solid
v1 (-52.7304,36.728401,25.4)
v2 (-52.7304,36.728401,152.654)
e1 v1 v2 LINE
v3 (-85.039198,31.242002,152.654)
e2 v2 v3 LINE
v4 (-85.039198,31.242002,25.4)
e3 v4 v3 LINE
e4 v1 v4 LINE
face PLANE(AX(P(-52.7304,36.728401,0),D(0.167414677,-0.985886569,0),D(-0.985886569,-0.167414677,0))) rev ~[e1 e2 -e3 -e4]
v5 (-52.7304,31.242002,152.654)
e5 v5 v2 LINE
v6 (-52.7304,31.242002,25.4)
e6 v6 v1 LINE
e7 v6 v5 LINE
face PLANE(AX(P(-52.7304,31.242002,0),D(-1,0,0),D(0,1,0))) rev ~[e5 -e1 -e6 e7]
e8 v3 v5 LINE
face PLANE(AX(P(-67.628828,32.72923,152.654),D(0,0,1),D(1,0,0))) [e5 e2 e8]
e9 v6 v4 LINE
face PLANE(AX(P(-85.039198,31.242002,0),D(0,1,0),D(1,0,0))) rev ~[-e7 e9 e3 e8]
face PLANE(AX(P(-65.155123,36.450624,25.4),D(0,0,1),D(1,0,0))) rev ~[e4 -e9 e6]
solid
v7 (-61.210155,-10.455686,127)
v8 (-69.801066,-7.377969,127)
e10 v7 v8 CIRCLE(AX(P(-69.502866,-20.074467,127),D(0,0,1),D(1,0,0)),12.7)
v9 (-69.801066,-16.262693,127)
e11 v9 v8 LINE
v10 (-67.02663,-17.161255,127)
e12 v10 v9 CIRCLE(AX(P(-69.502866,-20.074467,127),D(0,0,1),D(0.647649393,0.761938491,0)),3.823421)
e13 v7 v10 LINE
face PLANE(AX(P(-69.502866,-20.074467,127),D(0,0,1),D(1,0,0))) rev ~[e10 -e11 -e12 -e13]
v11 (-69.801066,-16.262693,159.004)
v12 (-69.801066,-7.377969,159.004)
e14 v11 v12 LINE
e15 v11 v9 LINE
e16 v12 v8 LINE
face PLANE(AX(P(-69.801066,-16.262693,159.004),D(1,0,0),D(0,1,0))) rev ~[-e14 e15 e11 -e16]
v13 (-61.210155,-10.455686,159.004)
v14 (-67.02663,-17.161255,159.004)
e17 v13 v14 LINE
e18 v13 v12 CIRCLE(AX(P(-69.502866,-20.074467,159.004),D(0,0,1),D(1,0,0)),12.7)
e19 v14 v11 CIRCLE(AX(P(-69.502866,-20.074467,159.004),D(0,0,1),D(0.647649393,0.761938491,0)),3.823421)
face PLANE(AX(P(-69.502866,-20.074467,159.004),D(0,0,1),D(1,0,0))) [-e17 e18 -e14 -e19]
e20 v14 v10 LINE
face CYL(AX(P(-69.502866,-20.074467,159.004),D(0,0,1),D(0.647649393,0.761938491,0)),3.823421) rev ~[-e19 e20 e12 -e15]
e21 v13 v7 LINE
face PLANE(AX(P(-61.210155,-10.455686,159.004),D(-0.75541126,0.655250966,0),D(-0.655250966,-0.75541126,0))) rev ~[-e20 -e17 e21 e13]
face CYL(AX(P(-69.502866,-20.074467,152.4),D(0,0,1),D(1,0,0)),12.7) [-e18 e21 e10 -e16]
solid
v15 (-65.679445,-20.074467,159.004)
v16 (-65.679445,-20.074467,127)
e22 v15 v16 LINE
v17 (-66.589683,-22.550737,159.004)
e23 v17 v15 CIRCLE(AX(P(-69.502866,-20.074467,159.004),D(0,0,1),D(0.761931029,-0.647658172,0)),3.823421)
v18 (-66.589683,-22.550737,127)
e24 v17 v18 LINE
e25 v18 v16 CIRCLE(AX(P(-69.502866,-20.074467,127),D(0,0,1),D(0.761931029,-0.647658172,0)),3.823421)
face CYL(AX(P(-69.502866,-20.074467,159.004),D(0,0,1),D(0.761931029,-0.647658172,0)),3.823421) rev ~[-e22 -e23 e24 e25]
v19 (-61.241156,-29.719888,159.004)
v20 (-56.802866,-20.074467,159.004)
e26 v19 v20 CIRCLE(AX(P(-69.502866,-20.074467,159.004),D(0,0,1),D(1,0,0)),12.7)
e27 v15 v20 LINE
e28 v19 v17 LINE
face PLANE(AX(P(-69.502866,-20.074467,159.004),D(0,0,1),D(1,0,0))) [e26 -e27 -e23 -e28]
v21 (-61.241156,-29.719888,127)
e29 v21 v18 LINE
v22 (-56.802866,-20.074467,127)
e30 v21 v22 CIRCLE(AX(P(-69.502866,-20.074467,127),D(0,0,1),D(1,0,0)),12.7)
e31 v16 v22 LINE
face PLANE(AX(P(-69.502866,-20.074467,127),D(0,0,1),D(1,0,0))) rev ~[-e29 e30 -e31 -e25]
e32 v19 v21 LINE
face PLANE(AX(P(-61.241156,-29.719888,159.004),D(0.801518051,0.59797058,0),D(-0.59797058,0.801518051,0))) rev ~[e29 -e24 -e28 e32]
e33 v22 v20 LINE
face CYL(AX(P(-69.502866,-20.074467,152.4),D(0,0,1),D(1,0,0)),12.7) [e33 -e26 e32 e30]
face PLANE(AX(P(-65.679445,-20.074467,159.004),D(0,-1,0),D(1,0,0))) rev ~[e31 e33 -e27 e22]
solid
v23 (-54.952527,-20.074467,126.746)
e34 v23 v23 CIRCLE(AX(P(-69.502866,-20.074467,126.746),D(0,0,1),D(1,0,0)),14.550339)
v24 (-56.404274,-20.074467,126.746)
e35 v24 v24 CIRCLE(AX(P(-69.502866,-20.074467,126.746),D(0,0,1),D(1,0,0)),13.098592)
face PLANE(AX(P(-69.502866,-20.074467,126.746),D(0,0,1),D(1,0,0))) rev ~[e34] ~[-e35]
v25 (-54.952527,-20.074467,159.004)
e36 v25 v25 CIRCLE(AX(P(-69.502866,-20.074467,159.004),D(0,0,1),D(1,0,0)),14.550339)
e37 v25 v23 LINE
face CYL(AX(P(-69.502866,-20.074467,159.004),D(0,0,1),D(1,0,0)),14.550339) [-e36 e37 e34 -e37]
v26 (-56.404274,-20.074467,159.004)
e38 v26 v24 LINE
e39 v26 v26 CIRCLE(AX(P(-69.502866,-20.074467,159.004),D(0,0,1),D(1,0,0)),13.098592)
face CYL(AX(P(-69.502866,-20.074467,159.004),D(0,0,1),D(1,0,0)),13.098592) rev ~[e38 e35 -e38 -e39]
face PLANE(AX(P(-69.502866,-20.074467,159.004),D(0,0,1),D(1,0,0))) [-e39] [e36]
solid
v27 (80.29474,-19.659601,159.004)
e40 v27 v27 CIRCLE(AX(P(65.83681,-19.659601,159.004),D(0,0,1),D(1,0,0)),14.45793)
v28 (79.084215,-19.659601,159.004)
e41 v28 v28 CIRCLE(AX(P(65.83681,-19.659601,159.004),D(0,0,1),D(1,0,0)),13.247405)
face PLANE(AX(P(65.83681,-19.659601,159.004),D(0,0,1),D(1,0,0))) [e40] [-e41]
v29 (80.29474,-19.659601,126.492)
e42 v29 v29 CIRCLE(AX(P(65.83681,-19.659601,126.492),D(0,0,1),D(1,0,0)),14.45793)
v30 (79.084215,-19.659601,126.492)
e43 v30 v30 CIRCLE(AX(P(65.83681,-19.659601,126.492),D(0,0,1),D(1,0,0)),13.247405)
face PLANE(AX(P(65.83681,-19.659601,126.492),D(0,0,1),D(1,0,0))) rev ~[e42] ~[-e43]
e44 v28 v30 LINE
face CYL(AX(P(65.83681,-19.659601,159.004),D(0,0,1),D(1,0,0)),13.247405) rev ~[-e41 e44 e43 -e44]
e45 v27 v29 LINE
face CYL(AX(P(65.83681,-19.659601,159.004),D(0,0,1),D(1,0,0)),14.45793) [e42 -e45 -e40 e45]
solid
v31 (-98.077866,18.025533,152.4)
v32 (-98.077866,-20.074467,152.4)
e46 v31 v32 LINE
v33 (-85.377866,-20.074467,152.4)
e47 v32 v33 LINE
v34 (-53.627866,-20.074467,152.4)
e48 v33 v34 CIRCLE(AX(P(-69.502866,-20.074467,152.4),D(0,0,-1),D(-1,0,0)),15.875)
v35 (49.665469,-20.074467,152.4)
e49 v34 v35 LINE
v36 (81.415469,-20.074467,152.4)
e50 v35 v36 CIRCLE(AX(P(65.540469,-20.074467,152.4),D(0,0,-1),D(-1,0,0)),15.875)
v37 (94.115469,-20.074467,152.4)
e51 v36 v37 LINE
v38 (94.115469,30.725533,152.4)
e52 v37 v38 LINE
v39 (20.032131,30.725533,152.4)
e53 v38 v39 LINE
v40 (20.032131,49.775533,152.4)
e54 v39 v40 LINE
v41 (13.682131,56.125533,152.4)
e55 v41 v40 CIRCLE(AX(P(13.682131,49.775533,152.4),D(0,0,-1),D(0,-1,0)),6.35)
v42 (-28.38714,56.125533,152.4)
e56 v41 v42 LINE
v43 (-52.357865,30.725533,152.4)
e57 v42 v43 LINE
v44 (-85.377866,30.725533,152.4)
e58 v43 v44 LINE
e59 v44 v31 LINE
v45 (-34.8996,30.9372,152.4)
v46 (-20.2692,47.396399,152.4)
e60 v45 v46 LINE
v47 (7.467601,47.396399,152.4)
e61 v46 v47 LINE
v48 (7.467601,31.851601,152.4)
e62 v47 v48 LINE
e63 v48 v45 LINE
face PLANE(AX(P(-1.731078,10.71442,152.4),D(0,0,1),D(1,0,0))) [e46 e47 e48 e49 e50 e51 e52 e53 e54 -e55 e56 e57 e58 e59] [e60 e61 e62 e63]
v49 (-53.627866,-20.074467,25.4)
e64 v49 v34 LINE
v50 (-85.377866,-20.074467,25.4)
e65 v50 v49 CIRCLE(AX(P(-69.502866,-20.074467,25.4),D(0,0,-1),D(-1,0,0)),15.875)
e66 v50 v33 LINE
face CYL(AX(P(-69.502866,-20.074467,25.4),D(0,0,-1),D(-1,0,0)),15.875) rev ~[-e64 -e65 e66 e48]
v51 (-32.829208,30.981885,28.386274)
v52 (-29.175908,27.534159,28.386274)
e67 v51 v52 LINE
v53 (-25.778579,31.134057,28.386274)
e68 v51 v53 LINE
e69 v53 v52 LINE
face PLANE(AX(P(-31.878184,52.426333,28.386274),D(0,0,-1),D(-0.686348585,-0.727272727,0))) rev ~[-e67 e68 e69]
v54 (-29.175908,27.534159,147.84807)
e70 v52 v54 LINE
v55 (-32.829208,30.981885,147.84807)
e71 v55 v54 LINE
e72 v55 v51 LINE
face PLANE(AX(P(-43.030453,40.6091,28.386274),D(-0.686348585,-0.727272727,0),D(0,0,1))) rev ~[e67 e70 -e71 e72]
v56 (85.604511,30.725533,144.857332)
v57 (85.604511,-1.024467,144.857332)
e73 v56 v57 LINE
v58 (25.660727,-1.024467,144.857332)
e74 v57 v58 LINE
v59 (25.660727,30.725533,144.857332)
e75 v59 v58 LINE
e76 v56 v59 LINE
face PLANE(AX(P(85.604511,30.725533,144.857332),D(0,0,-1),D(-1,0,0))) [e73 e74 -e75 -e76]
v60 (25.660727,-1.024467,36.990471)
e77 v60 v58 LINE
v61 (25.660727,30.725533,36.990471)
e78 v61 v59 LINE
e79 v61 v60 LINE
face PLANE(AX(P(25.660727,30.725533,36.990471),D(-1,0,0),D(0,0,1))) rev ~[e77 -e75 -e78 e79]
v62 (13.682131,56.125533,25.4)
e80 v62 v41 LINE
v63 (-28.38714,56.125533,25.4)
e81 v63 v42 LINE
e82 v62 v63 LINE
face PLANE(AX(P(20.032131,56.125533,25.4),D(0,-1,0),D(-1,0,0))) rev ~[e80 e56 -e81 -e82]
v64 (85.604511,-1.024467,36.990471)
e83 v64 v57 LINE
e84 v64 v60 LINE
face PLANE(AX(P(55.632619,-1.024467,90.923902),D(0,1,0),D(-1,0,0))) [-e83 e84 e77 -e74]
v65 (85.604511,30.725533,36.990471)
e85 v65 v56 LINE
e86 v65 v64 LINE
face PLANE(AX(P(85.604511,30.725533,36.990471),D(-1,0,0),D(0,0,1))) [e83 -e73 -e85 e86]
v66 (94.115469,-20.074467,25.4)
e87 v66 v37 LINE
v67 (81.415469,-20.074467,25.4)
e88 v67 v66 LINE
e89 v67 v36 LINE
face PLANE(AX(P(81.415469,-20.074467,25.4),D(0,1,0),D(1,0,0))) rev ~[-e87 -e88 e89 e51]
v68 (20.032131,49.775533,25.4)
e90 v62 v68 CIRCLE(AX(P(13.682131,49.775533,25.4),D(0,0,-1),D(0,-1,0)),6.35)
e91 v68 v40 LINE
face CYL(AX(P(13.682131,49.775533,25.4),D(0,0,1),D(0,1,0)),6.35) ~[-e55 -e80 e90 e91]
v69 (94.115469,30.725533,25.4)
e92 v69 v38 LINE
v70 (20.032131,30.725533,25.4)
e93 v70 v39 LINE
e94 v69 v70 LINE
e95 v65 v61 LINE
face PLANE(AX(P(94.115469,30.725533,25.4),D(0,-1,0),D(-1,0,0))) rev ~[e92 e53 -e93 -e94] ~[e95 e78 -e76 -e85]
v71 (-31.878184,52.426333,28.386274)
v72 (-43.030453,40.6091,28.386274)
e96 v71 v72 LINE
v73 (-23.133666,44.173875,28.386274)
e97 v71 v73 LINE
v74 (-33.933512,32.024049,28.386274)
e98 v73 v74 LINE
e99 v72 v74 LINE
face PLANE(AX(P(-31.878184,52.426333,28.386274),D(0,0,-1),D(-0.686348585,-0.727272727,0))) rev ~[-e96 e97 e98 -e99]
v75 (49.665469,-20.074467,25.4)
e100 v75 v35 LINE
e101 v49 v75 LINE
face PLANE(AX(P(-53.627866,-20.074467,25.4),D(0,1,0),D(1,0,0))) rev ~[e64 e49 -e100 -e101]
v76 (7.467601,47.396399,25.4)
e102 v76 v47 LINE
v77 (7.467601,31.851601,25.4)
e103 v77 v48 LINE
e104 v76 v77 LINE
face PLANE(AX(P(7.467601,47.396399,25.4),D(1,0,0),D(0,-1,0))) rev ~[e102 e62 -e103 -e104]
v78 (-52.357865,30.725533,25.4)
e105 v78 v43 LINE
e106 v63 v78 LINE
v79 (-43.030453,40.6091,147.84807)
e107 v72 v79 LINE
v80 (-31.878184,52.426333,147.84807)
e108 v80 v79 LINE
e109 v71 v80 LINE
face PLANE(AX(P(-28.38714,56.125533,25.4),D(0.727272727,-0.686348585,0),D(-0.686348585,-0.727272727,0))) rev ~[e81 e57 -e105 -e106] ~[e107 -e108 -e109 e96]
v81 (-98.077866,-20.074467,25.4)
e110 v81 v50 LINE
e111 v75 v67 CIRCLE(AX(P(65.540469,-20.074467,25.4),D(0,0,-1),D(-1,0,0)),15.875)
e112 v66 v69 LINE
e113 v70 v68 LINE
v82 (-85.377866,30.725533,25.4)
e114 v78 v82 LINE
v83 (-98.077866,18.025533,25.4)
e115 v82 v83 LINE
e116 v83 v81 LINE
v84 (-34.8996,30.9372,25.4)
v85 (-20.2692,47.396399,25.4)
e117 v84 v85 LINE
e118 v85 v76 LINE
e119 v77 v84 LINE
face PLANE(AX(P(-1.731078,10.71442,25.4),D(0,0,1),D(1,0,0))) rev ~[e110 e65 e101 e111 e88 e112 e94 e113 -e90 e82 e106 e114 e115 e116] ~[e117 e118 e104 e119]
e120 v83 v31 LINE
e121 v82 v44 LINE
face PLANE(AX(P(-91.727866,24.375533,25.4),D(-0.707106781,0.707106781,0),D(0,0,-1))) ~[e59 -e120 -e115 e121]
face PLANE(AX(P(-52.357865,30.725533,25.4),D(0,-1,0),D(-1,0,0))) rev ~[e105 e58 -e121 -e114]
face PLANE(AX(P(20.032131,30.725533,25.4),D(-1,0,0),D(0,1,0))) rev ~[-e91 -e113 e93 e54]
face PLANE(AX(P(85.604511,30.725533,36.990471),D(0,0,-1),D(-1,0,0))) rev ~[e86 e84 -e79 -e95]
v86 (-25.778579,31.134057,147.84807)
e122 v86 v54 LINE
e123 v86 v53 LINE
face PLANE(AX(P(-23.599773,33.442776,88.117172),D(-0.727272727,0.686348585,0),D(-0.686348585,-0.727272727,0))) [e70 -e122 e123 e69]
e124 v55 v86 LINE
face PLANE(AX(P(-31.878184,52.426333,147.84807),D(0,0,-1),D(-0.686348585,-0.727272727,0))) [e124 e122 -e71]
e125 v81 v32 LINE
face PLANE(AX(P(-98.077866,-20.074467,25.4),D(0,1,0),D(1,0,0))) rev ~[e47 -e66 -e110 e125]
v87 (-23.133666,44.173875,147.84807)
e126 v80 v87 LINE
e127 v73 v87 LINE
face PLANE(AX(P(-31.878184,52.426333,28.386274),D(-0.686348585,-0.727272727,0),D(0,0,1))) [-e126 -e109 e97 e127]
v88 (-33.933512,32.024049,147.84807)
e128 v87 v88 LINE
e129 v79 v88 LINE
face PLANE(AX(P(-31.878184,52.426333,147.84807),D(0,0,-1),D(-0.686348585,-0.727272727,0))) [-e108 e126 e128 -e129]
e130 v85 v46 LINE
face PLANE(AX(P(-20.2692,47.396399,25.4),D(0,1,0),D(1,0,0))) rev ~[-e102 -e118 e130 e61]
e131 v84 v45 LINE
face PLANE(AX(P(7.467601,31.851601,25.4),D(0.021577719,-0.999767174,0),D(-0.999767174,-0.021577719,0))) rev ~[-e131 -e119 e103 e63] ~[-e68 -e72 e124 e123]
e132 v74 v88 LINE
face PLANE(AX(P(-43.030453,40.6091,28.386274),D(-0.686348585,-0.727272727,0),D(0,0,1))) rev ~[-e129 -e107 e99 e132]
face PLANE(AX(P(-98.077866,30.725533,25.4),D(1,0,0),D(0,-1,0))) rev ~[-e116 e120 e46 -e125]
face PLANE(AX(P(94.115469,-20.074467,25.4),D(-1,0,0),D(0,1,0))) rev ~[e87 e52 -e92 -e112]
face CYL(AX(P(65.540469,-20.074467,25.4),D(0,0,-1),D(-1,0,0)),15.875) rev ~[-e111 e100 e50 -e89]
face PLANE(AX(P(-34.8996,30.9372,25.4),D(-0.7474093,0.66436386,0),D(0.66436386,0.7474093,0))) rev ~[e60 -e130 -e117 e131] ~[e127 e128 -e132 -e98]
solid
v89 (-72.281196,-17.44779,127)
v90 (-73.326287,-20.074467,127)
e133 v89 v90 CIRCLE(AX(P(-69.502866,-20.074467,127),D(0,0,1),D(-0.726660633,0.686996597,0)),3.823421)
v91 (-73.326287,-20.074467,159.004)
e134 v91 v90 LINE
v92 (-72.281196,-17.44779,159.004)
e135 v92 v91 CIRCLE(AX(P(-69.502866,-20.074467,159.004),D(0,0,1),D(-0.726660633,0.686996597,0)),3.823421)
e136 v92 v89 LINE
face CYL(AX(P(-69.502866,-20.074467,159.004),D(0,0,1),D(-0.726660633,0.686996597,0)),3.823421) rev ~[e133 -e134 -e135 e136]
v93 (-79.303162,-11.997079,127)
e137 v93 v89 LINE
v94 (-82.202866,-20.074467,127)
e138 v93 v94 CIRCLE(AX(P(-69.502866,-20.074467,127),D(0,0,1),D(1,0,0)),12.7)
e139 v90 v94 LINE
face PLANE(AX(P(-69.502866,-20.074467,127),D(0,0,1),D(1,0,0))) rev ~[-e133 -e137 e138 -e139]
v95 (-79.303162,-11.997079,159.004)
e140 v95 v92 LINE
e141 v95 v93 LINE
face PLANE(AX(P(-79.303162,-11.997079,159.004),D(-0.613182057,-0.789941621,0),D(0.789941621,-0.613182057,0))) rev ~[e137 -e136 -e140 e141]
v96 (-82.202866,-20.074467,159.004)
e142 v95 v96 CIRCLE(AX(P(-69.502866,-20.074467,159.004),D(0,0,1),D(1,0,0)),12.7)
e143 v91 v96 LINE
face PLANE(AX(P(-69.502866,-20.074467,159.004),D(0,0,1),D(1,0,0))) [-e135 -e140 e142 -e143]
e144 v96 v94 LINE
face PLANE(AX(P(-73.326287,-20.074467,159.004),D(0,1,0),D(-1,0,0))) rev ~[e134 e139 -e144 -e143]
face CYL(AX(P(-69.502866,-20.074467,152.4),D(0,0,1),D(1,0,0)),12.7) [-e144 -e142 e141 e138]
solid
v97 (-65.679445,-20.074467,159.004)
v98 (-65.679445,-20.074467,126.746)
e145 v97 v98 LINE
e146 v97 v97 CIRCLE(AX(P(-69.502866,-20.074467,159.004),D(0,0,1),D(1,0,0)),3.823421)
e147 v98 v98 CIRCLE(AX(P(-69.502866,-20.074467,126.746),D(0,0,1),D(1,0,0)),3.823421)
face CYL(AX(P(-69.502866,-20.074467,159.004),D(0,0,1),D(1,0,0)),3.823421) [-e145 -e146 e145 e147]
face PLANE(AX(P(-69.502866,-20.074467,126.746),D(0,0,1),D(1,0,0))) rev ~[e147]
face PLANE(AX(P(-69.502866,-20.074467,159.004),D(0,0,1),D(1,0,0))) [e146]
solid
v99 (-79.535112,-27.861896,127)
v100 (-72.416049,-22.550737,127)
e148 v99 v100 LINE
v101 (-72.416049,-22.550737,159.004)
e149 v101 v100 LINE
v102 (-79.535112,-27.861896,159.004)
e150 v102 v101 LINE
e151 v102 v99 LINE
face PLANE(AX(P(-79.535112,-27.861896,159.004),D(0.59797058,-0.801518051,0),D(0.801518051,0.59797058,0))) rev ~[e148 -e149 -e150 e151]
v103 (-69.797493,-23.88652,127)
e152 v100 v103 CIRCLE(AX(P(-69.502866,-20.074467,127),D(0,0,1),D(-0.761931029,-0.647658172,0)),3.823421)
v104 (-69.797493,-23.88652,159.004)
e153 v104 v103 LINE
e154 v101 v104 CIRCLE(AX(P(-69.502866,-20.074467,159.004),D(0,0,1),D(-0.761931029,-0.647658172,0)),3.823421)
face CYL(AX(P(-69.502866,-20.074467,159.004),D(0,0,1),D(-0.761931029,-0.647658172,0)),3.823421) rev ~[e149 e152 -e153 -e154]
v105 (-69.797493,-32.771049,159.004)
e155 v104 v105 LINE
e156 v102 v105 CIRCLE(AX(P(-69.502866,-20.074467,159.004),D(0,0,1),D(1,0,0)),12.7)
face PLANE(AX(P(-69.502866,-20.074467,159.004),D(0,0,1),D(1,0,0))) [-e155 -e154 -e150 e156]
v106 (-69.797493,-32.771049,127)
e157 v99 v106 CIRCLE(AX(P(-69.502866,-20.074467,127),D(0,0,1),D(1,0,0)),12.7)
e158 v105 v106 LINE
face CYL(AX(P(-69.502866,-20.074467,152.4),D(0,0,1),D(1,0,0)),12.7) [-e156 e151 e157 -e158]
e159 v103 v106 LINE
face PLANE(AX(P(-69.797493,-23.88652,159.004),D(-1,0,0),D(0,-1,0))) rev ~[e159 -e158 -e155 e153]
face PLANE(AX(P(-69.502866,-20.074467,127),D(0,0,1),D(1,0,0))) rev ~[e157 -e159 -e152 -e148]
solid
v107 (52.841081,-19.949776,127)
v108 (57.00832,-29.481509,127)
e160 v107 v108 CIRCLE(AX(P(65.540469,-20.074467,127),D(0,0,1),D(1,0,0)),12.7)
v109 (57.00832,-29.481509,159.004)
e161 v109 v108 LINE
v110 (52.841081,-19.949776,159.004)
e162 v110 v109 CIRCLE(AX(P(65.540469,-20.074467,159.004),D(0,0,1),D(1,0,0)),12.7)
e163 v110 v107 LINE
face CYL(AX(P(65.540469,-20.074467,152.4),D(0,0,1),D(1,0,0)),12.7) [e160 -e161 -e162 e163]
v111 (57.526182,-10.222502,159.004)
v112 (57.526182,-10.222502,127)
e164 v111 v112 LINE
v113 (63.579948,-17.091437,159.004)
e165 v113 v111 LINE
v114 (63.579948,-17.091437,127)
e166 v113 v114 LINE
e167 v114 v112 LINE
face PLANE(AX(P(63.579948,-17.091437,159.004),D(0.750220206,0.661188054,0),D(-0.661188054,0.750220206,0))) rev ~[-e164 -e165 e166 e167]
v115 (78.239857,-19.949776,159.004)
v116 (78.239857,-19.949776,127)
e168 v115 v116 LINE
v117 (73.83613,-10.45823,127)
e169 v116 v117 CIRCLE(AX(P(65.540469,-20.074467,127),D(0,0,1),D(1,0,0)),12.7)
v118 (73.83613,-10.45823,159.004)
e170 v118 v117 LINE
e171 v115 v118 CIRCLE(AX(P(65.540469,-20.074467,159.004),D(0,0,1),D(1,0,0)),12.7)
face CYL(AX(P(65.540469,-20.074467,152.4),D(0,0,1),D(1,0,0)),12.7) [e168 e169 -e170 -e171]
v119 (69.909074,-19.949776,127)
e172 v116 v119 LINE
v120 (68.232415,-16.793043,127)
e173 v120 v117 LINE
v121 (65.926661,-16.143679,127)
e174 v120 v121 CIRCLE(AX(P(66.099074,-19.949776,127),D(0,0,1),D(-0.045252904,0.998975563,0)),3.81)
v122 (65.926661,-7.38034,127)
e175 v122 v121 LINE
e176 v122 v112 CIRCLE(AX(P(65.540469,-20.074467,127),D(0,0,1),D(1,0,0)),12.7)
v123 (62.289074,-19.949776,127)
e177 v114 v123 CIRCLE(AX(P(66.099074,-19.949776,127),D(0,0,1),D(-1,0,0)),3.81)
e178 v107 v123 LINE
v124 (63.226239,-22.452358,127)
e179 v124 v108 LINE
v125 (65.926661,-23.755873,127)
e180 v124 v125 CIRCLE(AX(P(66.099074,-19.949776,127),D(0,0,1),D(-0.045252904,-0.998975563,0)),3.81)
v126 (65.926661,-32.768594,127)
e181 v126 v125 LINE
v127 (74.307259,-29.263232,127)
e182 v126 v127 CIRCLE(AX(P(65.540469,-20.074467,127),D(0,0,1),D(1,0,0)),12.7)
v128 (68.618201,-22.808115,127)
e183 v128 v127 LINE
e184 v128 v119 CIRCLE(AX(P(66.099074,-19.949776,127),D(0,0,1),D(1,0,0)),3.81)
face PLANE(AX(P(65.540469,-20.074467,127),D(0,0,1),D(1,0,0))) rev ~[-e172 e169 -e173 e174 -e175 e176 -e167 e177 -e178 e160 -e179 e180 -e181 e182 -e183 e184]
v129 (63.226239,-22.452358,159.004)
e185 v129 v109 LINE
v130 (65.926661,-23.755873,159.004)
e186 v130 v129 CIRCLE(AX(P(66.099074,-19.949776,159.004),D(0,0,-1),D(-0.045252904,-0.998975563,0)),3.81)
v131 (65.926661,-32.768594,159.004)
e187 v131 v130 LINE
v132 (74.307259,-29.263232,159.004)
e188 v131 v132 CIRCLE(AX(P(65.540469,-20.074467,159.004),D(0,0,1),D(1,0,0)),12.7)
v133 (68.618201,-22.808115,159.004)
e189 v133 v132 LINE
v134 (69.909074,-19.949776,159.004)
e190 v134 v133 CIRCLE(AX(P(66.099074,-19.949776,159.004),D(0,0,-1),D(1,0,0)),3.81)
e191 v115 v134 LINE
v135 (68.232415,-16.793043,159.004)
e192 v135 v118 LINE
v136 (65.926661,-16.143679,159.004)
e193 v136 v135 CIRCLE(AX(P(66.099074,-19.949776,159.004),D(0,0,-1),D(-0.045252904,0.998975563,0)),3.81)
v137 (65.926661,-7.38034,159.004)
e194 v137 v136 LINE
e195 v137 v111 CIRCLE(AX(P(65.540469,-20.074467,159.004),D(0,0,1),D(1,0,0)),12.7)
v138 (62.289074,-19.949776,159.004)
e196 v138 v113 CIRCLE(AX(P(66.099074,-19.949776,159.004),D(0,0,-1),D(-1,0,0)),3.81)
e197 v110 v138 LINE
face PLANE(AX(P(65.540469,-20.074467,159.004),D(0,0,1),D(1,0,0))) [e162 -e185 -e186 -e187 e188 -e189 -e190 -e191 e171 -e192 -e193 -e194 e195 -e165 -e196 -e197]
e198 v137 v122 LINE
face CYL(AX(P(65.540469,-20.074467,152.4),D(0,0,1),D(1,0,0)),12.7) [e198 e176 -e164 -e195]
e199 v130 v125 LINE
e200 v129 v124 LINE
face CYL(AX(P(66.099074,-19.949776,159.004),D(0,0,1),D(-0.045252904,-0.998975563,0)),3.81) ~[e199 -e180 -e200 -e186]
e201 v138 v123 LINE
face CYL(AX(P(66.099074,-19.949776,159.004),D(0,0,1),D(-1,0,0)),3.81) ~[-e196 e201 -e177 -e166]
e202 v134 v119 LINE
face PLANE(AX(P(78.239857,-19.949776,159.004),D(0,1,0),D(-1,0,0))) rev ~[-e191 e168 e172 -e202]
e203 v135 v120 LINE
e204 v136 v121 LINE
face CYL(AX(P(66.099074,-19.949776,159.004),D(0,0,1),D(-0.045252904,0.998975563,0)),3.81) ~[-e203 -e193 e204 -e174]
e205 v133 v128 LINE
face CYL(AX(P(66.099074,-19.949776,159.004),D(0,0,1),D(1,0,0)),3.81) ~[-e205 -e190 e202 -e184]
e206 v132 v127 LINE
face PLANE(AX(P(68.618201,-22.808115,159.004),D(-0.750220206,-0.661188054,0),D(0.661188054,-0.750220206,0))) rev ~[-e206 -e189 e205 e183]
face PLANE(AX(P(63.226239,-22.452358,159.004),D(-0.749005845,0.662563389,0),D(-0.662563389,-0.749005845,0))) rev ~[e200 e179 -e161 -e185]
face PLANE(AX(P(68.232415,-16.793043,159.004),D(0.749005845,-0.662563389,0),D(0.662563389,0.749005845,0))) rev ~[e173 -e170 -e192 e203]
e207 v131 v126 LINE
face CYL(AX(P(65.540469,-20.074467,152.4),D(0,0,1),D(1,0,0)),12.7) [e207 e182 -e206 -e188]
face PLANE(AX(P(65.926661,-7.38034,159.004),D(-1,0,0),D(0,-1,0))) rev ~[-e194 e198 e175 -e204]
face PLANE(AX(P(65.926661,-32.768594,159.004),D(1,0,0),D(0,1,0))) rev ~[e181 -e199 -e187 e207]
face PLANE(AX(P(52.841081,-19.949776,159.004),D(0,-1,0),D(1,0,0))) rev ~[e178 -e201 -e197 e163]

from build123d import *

# Parameters (mm, degrees)
F1_DEPTH       = 25.4
F3_DEPTH       = 127
F4_SIZE        = 12.7
F6_R           = 6.35
F8_DEPTH       = 152.654
F10_DEPTH      = 25.4
F12_DEPTH      = 25.4
F13_W          = 16.2486957626
F13_H          = 119.4617953151
F14_DEPTH      = 19.05
F15_W          = 59.9437842466
F15_H          = 107.8668609262
F16_DEPTH      = 31.75
F17_R          = 12.7
F18_DEPTH      = 6.604
F18_DEPTH_BACK = 25.4
F20_DEPTH      = 42.672
F21_R          = 14.5503391108
F21_R_2        = 13.0985920163
F22_DEPTH      = 32.258
F23_R          = 3.8234210024
F24_DEPTH      = 32.258
F26_DEPTH      = 37.592
F27_R          = 14.4579304603
F27_R_2        = 13.2474049672
F28_DEPTH      = 32.512


with BuildPart() as f1:
    # F0 (on Top) → F1 (new body)
    with BuildSketch(Plane.XY):
        with BuildLine():
            Line((-98.0778662412, 30.7255328881), (-98.0778662412, -20.0744671119))
            Line((-98.0778662412, -20.0744671119), (-85.3778662412, -20.0744671119))
            ThreePointArc((-85.3778662412, -20.0744671119), (-69.5028662412, -4.1994671119), (-53.6278662412, -20.0744671119))
            Line((-53.6278662412, -20.0744671119), (49.6654686659, -20.0744671119))
            ThreePointArc((49.6654686659, -20.0744671119), (65.5404686659, -4.1994671119), (81.4154686659, -20.0744671119))
            Line((81.4154686659, -20.0744671119), (94.1154686659, -20.0744671119))
            Line((94.1154686659, -20.0744671119), (94.1154686659, 30.7255328881))
            Line((94.1154686659, 30.7255328881), (20.0321313981, 30.7255328881))
            Line((20.0321313981, 30.7255328881), (20.0321313981, 56.1255328881))
            Line((20.0321313981, 56.1255328881), (-28.3871404864, 56.1255328881))
            Line((-28.3871404864, 56.1255328881), (-52.3578648184, 30.7255328881))
            Line((-52.3578648184, 30.7255328881), (-98.0778662412, 30.7255328881))
        make_face()
        Polygon((7.467600517, 31.8516008556), (-34.8995998502, 30.9372004122), (-20.2692002058, 47.3963990808), (7.467600517, 47.3963990808), align=None, mode=Mode.SUBTRACT)
    extrude(amount=F1_DEPTH)


with BuildPart() as f3:
    # F2 (on face) → F3 (new body)
    with BuildSketch(Plane.XY.offset(25.4)):
        with BuildLine():
            Line((-28.3871404864, 56.1255328881), (-52.3578648184, 30.7255328881))
            Line((-52.3578648184, 30.7255328881), (-98.0778662412, 30.7255328881))
            Line((-98.0778662412, 30.7255328881), (-98.0778662412, -20.0744671119))
            Line((-98.0778662412, -20.0744671119), (-85.3778662412, -20.0744671119))
            ThreePointArc((-85.3778662412, -20.0744671119), (-69.5028662412, -4.1994671119), (-53.6278662412, -20.0744671119))
            Line((-53.6278662412, -20.0744671119), (49.6654686659, -20.0744671119))
            ThreePointArc((49.6654686659, -20.0744671119), (65.5404686659, -4.1994671119), (81.4154686659, -20.0744671119))
            Line((81.4154686659, -20.0744671119), (94.1154686659, -20.0744671119))
            Line((94.1154686659, -20.0744671119), (94.1154686659, 30.7255328881))
            Line((94.1154686659, 30.7255328881), (20.0321313981, 30.7255328881))
            Line((20.0321313981, 30.7255328881), (20.0321313981, 56.1255328881))
            Line((20.0321313981, 56.1255328881), (-28.3871404864, 56.1255328881))
        make_face()
        Polygon((7.467600517, 47.3963990808), (7.467600517, 31.8516008556), (-34.8995998502, 30.9372004122), (-20.2692002058, 47.3963990808), align=None, mode=Mode.SUBTRACT)
    extrude(amount=F3_DEPTH)

    # F4
    f4_edges = [f3.edges().sort_by_distance(p)[0] for p in [
        (-98.077866, 30.725533, 88.9),
    ]]
    chamfer(f4_edges, length=F4_SIZE)

    # F6
    f6_edges = [f3.edges().sort_by_distance(p)[0] for p in [
        (20.032131, 56.125533, 88.9),
    ]]
    fillet(f6_edges, radius=F6_R)

    # F13 (on face) → F14 (cut)
    with BuildSketch(Plane(origin=(-43.0304532091, 40.6090996754, 0), x_dir=(-0.686348585, -0.7272727273, 0), z_dir=(-0.7272727273, 0.686348585, 0))):
        with Locations((-8.1243478813, 88.1171720102)):
            Rectangle(F13_W, F13_H)
    extrude(amount=-F14_DEPTH, mode=Mode.SUBTRACT)

    # F15 (on face) → F16 (cut)
    with BuildSketch(Plane(origin=(0, 30.7255328881, 0), x_dir=(-1, 0, 0), z_dir=(0, 1, 0))):
        with Locations((-55.6326190781, 90.9239016473)):
            Rectangle(F15_W, F15_H)
    extrude(amount=-F16_DEPTH, mode=Mode.SUBTRACT)


with BuildPart() as f8:
    # F7 (on Top) → F8 (new body)
    with BuildSketch(Plane.XY):
        Polygon((-52.7304001153, 36.728400737), (-85.0391983986, 31.2420018017), (-52.7304001153, 31.2420018017), align=None)
    extrude(amount=F8_DEPTH)

    # F9 (on Top) → F10 (cut)
    with BuildSketch(Plane.XY):
        Polygon((-53.0351996422, 37.033200264), (-84.1248035431, 31.8516008556), (-53.0351996422, 30.0227999687), align=None)
    extrude(amount=F10_DEPTH, mode=Mode.SUBTRACT)

    # F11 (on Top) → F12 (cut)
    with BuildSketch(Plane.XY):
        Polygon((-45.1124533736, 57.0361010675), (-89.001595974, 44.9580028653), (-89.001595974, 20.2692002058), (-43.2815998793, 22.7076001465), align=None)
    extrude(amount=F12_DEPTH, mode=Mode.SUBTRACT)


with BuildPart() as f18:
    # F17 (on face) → F18 (new body, two sides)
    with BuildSketch(Plane.XY.offset(152.4)) as f18_sk:
        with Locations((-69.5028662412, -20.0744671119)):
            Circle(F17_R)
    extrude(amount=F18_DEPTH)
    extrude(f18_sk.sketch, amount=-F18_DEPTH_BACK)

    # F19 (on face) → F20 (cut)
    with BuildSketch(Plane.XY.offset(159.004)):
        with BuildLine():
            ThreePointArc((-66.589683144, -22.5507369687), (-65.9142123432, -21.3935999187), (-65.6794452388, -20.0744671119))
            ThreePointArc((-65.6794452388, -20.0744671119), (-66.032546227, -18.4696533654), (-67.0266299507, -17.1612554829))
            ThreePointArc((-67.0266299507, -17.1612554829), (-68.324810941, -16.4370595363), (-69.8010662799, -16.2626926041))
            ThreePointArc((-69.8010662799, -16.2626926041), (-71.151311703, -16.6246590417), (-72.2811957686, -17.4477898956))
            ThreePointArc((-72.2811957686, -17.4477898956), (-73.055419663, -18.6609918389), (-73.3262872437, -20.0744671119))
            ThreePointArc((-73.3262872437, -20.0744671119), (-73.0915201393, -21.3935999187), (-72.4160493385, -22.5507369687))
            ThreePointArc((-72.4160493385, -22.5507369687), (-71.2402750017, -23.4803383603), (-69.7974926492, -23.8865195042))
            ThreePointArc((-69.7974926492, -23.8865195042), (-68.0330742392, -23.6040931024), (-66.589683144, -22.5507369687))
        make_face()
        with BuildLine():
            Line((-61.24115574, -29.719887766), (-66.589683144, -22.5507369687))
            ThreePointArc((-66.589683144, -22.5507369687), (-68.0330742392, -23.6040931024), (-69.7974926492, -23.8865195042))
            Line((-69.7974926492, -23.8865195042), (-69.7974926492, -32.7710491433))
            ThreePointArc((-69.7974926492, -32.7710491433), (-65.2371888419, -32.0366573932), (-61.24115574, -29.719887766))
        make_face()
        with BuildLine():
            Line((-79.535111766, -27.861896067), (-72.4160493385, -22.5507369687))
            ThreePointArc((-72.4160493385, -22.5507369687), (-73.0915201393, -21.3935999187), (-73.3262872437, -20.0744671119))
            Line((-73.3262872437, -20.0744671119), (-82.2028662412, -20.0744671119))
            ThreePointArc((-82.2028662412, -20.0744671119), (-81.5174306979, -24.1903195045), (-79.535111766, -27.861896067))
        make_face()
        with BuildLine():
            ThreePointArc((-72.2811957686, -17.4477898956), (-71.151311703, -16.6246590417), (-69.8010662799, -16.2626926041))
            Line((-69.8010662799, -16.2626926041), (-69.8010662799, -7.3779685104))
            ThreePointArc((-69.8010662799, -7.3779685104), (-75.0552484987, -8.6525123201), (-79.3031619466, -11.9970786672))
            Line((-79.3031619466, -11.9970786672), (-72.2811957686, -17.4477898956))
        make_face()
        with BuildLine():
            ThreePointArc((-67.0266299507, -17.1612554829), (-66.032546227, -18.4696533654), (-65.6794452388, -20.0744671119))
            Line((-65.6794452388, -20.0744671119), (-56.8028662412, -20.0744671119))
            ThreePointArc((-56.8028662412, -20.0744671119), (-57.957143405, -14.7842606709), (-61.2101550899, -10.4556864324))
            Line((-61.2101550899, -10.4556864324), (-67.0266299507, -17.1612554829))
        make_face()
    extrude(amount=-F20_DEPTH, mode=Mode.SUBTRACT)


with BuildPart() as f18b:
    # F17 (on face) → F18, piece 2 (new body, two sides)
    with BuildSketch(Plane.XY.offset(152.4)) as f18_2_sk:
        with Locations((65.5404686659, -20.0744671119)):
            Circle(F17_R)
    extrude(amount=F18_DEPTH)
    extrude(f18_2_sk.sketch, amount=-F18_DEPTH_BACK)

    # F25 (on face) → F26 (cut)
    with BuildSketch(Plane.XY.offset(159.004)):
        with BuildLine():
            Line((63.5799478034, -17.0914367663), (57.5261820487, -10.2225023323))
            ThreePointArc((57.5261820487, -10.2225023323), (54.0984828398, -14.5634816868), (52.8410808041, -19.9497757508))
            Line((52.8410808041, -19.9497757508), (62.2890742888, -19.9497757508))
            ThreePointArc((62.2890742888, -19.9497757508), (62.6267572015, -18.3816194942), (63.5799478034, -17.0914367663))
        make_face()
        with BuildLine():
            ThreePointArc((73.8361295373, -10.4582302853), (70.1461167495, -8.239011661), (65.9266607232, -7.380340293))
            Line((65.9266607232, -7.380340293), (65.9266607232, -16.1436788574))
            ThreePointArc((65.9266607232, -16.1436788574), (67.1318990539, -16.2824370694), (68.2324145932, -16.7930433983))
            Line((68.2324145932, -16.7930433983), (73.8361295373, -10.4582302853))
        make_face()
        with BuildLine():
            ThreePointArc((78.2404686659, -20.0744671119), (78.2403156304, -20.0121206801), (78.2398565277, -19.9497757508))
            Line((78.2398565277, -19.9497757508), (69.9090742888, -19.9497757508))
            ThreePointArc((69.9090742888, -19.9497757508), (69.5713913761, -21.5179320075), (68.6182007743, -22.8081147353))
            Line((68.6182007743, -22.8081147353), (74.3072586548, -29.2632316257))
            ThreePointArc((74.3072586548, -29.2632316257), (77.2158323189, -25.072054887), (78.2404686659, -20.0744671119))
        make_face()
        with BuildLine():
            Line((63.226239122, -22.4523580381), (57.0083197097, -29.4815088462))
            ThreePointArc((57.0083197097, -29.4815088462), (61.1483865243, -31.9908262229), (65.9266607232, -32.7685939308))
            Line((65.9266607232, -32.7685939308), (65.9266607232, -23.7558726443))
            ThreePointArc((65.9266607232, -23.7558726443), (64.4428217287, -23.3809457346), (63.226239122, -22.4523580381))
        make_face()
    extrude(amount=-F26_DEPTH, mode=Mode.SUBTRACT)


with BuildPart() as f22:
    # F21 (on face) → F22 (new body)
    with BuildSketch(Plane.XY.offset(159.004)):
        with Locations((-69.5028662412, -20.0744671119)):
            Circle(F21_R)
        with Locations((-69.5028662412, -20.0744671119)):
            Circle(F21_R_2, mode=Mode.SUBTRACT)
    extrude(amount=-F22_DEPTH)


with BuildPart() as f24:
    # F23 (on face) → F24 (new body)
    with BuildSketch(Plane.XY.offset(159.004)):
        with Locations((-69.5028662412, -20.0744671119)):
            Circle(F23_R)
    extrude(amount=-F24_DEPTH)


with BuildPart() as f28:
    # F27 (on face) → F28 (new body)
    with BuildSketch(Plane.XY.offset(159.004)):
        with Locations((65.8368095756, -19.6596011519)):
            Circle(F27_R)
        with Locations((65.8368095756, -19.6596011519)):
            Circle(F27_R_2, mode=Mode.SUBTRACT)
    extrude(amount=-F28_DEPTH)


solid = Compound([f3.part, f8.part, f18.part, f18b.part, f22.part, f24.part, f28.part])
